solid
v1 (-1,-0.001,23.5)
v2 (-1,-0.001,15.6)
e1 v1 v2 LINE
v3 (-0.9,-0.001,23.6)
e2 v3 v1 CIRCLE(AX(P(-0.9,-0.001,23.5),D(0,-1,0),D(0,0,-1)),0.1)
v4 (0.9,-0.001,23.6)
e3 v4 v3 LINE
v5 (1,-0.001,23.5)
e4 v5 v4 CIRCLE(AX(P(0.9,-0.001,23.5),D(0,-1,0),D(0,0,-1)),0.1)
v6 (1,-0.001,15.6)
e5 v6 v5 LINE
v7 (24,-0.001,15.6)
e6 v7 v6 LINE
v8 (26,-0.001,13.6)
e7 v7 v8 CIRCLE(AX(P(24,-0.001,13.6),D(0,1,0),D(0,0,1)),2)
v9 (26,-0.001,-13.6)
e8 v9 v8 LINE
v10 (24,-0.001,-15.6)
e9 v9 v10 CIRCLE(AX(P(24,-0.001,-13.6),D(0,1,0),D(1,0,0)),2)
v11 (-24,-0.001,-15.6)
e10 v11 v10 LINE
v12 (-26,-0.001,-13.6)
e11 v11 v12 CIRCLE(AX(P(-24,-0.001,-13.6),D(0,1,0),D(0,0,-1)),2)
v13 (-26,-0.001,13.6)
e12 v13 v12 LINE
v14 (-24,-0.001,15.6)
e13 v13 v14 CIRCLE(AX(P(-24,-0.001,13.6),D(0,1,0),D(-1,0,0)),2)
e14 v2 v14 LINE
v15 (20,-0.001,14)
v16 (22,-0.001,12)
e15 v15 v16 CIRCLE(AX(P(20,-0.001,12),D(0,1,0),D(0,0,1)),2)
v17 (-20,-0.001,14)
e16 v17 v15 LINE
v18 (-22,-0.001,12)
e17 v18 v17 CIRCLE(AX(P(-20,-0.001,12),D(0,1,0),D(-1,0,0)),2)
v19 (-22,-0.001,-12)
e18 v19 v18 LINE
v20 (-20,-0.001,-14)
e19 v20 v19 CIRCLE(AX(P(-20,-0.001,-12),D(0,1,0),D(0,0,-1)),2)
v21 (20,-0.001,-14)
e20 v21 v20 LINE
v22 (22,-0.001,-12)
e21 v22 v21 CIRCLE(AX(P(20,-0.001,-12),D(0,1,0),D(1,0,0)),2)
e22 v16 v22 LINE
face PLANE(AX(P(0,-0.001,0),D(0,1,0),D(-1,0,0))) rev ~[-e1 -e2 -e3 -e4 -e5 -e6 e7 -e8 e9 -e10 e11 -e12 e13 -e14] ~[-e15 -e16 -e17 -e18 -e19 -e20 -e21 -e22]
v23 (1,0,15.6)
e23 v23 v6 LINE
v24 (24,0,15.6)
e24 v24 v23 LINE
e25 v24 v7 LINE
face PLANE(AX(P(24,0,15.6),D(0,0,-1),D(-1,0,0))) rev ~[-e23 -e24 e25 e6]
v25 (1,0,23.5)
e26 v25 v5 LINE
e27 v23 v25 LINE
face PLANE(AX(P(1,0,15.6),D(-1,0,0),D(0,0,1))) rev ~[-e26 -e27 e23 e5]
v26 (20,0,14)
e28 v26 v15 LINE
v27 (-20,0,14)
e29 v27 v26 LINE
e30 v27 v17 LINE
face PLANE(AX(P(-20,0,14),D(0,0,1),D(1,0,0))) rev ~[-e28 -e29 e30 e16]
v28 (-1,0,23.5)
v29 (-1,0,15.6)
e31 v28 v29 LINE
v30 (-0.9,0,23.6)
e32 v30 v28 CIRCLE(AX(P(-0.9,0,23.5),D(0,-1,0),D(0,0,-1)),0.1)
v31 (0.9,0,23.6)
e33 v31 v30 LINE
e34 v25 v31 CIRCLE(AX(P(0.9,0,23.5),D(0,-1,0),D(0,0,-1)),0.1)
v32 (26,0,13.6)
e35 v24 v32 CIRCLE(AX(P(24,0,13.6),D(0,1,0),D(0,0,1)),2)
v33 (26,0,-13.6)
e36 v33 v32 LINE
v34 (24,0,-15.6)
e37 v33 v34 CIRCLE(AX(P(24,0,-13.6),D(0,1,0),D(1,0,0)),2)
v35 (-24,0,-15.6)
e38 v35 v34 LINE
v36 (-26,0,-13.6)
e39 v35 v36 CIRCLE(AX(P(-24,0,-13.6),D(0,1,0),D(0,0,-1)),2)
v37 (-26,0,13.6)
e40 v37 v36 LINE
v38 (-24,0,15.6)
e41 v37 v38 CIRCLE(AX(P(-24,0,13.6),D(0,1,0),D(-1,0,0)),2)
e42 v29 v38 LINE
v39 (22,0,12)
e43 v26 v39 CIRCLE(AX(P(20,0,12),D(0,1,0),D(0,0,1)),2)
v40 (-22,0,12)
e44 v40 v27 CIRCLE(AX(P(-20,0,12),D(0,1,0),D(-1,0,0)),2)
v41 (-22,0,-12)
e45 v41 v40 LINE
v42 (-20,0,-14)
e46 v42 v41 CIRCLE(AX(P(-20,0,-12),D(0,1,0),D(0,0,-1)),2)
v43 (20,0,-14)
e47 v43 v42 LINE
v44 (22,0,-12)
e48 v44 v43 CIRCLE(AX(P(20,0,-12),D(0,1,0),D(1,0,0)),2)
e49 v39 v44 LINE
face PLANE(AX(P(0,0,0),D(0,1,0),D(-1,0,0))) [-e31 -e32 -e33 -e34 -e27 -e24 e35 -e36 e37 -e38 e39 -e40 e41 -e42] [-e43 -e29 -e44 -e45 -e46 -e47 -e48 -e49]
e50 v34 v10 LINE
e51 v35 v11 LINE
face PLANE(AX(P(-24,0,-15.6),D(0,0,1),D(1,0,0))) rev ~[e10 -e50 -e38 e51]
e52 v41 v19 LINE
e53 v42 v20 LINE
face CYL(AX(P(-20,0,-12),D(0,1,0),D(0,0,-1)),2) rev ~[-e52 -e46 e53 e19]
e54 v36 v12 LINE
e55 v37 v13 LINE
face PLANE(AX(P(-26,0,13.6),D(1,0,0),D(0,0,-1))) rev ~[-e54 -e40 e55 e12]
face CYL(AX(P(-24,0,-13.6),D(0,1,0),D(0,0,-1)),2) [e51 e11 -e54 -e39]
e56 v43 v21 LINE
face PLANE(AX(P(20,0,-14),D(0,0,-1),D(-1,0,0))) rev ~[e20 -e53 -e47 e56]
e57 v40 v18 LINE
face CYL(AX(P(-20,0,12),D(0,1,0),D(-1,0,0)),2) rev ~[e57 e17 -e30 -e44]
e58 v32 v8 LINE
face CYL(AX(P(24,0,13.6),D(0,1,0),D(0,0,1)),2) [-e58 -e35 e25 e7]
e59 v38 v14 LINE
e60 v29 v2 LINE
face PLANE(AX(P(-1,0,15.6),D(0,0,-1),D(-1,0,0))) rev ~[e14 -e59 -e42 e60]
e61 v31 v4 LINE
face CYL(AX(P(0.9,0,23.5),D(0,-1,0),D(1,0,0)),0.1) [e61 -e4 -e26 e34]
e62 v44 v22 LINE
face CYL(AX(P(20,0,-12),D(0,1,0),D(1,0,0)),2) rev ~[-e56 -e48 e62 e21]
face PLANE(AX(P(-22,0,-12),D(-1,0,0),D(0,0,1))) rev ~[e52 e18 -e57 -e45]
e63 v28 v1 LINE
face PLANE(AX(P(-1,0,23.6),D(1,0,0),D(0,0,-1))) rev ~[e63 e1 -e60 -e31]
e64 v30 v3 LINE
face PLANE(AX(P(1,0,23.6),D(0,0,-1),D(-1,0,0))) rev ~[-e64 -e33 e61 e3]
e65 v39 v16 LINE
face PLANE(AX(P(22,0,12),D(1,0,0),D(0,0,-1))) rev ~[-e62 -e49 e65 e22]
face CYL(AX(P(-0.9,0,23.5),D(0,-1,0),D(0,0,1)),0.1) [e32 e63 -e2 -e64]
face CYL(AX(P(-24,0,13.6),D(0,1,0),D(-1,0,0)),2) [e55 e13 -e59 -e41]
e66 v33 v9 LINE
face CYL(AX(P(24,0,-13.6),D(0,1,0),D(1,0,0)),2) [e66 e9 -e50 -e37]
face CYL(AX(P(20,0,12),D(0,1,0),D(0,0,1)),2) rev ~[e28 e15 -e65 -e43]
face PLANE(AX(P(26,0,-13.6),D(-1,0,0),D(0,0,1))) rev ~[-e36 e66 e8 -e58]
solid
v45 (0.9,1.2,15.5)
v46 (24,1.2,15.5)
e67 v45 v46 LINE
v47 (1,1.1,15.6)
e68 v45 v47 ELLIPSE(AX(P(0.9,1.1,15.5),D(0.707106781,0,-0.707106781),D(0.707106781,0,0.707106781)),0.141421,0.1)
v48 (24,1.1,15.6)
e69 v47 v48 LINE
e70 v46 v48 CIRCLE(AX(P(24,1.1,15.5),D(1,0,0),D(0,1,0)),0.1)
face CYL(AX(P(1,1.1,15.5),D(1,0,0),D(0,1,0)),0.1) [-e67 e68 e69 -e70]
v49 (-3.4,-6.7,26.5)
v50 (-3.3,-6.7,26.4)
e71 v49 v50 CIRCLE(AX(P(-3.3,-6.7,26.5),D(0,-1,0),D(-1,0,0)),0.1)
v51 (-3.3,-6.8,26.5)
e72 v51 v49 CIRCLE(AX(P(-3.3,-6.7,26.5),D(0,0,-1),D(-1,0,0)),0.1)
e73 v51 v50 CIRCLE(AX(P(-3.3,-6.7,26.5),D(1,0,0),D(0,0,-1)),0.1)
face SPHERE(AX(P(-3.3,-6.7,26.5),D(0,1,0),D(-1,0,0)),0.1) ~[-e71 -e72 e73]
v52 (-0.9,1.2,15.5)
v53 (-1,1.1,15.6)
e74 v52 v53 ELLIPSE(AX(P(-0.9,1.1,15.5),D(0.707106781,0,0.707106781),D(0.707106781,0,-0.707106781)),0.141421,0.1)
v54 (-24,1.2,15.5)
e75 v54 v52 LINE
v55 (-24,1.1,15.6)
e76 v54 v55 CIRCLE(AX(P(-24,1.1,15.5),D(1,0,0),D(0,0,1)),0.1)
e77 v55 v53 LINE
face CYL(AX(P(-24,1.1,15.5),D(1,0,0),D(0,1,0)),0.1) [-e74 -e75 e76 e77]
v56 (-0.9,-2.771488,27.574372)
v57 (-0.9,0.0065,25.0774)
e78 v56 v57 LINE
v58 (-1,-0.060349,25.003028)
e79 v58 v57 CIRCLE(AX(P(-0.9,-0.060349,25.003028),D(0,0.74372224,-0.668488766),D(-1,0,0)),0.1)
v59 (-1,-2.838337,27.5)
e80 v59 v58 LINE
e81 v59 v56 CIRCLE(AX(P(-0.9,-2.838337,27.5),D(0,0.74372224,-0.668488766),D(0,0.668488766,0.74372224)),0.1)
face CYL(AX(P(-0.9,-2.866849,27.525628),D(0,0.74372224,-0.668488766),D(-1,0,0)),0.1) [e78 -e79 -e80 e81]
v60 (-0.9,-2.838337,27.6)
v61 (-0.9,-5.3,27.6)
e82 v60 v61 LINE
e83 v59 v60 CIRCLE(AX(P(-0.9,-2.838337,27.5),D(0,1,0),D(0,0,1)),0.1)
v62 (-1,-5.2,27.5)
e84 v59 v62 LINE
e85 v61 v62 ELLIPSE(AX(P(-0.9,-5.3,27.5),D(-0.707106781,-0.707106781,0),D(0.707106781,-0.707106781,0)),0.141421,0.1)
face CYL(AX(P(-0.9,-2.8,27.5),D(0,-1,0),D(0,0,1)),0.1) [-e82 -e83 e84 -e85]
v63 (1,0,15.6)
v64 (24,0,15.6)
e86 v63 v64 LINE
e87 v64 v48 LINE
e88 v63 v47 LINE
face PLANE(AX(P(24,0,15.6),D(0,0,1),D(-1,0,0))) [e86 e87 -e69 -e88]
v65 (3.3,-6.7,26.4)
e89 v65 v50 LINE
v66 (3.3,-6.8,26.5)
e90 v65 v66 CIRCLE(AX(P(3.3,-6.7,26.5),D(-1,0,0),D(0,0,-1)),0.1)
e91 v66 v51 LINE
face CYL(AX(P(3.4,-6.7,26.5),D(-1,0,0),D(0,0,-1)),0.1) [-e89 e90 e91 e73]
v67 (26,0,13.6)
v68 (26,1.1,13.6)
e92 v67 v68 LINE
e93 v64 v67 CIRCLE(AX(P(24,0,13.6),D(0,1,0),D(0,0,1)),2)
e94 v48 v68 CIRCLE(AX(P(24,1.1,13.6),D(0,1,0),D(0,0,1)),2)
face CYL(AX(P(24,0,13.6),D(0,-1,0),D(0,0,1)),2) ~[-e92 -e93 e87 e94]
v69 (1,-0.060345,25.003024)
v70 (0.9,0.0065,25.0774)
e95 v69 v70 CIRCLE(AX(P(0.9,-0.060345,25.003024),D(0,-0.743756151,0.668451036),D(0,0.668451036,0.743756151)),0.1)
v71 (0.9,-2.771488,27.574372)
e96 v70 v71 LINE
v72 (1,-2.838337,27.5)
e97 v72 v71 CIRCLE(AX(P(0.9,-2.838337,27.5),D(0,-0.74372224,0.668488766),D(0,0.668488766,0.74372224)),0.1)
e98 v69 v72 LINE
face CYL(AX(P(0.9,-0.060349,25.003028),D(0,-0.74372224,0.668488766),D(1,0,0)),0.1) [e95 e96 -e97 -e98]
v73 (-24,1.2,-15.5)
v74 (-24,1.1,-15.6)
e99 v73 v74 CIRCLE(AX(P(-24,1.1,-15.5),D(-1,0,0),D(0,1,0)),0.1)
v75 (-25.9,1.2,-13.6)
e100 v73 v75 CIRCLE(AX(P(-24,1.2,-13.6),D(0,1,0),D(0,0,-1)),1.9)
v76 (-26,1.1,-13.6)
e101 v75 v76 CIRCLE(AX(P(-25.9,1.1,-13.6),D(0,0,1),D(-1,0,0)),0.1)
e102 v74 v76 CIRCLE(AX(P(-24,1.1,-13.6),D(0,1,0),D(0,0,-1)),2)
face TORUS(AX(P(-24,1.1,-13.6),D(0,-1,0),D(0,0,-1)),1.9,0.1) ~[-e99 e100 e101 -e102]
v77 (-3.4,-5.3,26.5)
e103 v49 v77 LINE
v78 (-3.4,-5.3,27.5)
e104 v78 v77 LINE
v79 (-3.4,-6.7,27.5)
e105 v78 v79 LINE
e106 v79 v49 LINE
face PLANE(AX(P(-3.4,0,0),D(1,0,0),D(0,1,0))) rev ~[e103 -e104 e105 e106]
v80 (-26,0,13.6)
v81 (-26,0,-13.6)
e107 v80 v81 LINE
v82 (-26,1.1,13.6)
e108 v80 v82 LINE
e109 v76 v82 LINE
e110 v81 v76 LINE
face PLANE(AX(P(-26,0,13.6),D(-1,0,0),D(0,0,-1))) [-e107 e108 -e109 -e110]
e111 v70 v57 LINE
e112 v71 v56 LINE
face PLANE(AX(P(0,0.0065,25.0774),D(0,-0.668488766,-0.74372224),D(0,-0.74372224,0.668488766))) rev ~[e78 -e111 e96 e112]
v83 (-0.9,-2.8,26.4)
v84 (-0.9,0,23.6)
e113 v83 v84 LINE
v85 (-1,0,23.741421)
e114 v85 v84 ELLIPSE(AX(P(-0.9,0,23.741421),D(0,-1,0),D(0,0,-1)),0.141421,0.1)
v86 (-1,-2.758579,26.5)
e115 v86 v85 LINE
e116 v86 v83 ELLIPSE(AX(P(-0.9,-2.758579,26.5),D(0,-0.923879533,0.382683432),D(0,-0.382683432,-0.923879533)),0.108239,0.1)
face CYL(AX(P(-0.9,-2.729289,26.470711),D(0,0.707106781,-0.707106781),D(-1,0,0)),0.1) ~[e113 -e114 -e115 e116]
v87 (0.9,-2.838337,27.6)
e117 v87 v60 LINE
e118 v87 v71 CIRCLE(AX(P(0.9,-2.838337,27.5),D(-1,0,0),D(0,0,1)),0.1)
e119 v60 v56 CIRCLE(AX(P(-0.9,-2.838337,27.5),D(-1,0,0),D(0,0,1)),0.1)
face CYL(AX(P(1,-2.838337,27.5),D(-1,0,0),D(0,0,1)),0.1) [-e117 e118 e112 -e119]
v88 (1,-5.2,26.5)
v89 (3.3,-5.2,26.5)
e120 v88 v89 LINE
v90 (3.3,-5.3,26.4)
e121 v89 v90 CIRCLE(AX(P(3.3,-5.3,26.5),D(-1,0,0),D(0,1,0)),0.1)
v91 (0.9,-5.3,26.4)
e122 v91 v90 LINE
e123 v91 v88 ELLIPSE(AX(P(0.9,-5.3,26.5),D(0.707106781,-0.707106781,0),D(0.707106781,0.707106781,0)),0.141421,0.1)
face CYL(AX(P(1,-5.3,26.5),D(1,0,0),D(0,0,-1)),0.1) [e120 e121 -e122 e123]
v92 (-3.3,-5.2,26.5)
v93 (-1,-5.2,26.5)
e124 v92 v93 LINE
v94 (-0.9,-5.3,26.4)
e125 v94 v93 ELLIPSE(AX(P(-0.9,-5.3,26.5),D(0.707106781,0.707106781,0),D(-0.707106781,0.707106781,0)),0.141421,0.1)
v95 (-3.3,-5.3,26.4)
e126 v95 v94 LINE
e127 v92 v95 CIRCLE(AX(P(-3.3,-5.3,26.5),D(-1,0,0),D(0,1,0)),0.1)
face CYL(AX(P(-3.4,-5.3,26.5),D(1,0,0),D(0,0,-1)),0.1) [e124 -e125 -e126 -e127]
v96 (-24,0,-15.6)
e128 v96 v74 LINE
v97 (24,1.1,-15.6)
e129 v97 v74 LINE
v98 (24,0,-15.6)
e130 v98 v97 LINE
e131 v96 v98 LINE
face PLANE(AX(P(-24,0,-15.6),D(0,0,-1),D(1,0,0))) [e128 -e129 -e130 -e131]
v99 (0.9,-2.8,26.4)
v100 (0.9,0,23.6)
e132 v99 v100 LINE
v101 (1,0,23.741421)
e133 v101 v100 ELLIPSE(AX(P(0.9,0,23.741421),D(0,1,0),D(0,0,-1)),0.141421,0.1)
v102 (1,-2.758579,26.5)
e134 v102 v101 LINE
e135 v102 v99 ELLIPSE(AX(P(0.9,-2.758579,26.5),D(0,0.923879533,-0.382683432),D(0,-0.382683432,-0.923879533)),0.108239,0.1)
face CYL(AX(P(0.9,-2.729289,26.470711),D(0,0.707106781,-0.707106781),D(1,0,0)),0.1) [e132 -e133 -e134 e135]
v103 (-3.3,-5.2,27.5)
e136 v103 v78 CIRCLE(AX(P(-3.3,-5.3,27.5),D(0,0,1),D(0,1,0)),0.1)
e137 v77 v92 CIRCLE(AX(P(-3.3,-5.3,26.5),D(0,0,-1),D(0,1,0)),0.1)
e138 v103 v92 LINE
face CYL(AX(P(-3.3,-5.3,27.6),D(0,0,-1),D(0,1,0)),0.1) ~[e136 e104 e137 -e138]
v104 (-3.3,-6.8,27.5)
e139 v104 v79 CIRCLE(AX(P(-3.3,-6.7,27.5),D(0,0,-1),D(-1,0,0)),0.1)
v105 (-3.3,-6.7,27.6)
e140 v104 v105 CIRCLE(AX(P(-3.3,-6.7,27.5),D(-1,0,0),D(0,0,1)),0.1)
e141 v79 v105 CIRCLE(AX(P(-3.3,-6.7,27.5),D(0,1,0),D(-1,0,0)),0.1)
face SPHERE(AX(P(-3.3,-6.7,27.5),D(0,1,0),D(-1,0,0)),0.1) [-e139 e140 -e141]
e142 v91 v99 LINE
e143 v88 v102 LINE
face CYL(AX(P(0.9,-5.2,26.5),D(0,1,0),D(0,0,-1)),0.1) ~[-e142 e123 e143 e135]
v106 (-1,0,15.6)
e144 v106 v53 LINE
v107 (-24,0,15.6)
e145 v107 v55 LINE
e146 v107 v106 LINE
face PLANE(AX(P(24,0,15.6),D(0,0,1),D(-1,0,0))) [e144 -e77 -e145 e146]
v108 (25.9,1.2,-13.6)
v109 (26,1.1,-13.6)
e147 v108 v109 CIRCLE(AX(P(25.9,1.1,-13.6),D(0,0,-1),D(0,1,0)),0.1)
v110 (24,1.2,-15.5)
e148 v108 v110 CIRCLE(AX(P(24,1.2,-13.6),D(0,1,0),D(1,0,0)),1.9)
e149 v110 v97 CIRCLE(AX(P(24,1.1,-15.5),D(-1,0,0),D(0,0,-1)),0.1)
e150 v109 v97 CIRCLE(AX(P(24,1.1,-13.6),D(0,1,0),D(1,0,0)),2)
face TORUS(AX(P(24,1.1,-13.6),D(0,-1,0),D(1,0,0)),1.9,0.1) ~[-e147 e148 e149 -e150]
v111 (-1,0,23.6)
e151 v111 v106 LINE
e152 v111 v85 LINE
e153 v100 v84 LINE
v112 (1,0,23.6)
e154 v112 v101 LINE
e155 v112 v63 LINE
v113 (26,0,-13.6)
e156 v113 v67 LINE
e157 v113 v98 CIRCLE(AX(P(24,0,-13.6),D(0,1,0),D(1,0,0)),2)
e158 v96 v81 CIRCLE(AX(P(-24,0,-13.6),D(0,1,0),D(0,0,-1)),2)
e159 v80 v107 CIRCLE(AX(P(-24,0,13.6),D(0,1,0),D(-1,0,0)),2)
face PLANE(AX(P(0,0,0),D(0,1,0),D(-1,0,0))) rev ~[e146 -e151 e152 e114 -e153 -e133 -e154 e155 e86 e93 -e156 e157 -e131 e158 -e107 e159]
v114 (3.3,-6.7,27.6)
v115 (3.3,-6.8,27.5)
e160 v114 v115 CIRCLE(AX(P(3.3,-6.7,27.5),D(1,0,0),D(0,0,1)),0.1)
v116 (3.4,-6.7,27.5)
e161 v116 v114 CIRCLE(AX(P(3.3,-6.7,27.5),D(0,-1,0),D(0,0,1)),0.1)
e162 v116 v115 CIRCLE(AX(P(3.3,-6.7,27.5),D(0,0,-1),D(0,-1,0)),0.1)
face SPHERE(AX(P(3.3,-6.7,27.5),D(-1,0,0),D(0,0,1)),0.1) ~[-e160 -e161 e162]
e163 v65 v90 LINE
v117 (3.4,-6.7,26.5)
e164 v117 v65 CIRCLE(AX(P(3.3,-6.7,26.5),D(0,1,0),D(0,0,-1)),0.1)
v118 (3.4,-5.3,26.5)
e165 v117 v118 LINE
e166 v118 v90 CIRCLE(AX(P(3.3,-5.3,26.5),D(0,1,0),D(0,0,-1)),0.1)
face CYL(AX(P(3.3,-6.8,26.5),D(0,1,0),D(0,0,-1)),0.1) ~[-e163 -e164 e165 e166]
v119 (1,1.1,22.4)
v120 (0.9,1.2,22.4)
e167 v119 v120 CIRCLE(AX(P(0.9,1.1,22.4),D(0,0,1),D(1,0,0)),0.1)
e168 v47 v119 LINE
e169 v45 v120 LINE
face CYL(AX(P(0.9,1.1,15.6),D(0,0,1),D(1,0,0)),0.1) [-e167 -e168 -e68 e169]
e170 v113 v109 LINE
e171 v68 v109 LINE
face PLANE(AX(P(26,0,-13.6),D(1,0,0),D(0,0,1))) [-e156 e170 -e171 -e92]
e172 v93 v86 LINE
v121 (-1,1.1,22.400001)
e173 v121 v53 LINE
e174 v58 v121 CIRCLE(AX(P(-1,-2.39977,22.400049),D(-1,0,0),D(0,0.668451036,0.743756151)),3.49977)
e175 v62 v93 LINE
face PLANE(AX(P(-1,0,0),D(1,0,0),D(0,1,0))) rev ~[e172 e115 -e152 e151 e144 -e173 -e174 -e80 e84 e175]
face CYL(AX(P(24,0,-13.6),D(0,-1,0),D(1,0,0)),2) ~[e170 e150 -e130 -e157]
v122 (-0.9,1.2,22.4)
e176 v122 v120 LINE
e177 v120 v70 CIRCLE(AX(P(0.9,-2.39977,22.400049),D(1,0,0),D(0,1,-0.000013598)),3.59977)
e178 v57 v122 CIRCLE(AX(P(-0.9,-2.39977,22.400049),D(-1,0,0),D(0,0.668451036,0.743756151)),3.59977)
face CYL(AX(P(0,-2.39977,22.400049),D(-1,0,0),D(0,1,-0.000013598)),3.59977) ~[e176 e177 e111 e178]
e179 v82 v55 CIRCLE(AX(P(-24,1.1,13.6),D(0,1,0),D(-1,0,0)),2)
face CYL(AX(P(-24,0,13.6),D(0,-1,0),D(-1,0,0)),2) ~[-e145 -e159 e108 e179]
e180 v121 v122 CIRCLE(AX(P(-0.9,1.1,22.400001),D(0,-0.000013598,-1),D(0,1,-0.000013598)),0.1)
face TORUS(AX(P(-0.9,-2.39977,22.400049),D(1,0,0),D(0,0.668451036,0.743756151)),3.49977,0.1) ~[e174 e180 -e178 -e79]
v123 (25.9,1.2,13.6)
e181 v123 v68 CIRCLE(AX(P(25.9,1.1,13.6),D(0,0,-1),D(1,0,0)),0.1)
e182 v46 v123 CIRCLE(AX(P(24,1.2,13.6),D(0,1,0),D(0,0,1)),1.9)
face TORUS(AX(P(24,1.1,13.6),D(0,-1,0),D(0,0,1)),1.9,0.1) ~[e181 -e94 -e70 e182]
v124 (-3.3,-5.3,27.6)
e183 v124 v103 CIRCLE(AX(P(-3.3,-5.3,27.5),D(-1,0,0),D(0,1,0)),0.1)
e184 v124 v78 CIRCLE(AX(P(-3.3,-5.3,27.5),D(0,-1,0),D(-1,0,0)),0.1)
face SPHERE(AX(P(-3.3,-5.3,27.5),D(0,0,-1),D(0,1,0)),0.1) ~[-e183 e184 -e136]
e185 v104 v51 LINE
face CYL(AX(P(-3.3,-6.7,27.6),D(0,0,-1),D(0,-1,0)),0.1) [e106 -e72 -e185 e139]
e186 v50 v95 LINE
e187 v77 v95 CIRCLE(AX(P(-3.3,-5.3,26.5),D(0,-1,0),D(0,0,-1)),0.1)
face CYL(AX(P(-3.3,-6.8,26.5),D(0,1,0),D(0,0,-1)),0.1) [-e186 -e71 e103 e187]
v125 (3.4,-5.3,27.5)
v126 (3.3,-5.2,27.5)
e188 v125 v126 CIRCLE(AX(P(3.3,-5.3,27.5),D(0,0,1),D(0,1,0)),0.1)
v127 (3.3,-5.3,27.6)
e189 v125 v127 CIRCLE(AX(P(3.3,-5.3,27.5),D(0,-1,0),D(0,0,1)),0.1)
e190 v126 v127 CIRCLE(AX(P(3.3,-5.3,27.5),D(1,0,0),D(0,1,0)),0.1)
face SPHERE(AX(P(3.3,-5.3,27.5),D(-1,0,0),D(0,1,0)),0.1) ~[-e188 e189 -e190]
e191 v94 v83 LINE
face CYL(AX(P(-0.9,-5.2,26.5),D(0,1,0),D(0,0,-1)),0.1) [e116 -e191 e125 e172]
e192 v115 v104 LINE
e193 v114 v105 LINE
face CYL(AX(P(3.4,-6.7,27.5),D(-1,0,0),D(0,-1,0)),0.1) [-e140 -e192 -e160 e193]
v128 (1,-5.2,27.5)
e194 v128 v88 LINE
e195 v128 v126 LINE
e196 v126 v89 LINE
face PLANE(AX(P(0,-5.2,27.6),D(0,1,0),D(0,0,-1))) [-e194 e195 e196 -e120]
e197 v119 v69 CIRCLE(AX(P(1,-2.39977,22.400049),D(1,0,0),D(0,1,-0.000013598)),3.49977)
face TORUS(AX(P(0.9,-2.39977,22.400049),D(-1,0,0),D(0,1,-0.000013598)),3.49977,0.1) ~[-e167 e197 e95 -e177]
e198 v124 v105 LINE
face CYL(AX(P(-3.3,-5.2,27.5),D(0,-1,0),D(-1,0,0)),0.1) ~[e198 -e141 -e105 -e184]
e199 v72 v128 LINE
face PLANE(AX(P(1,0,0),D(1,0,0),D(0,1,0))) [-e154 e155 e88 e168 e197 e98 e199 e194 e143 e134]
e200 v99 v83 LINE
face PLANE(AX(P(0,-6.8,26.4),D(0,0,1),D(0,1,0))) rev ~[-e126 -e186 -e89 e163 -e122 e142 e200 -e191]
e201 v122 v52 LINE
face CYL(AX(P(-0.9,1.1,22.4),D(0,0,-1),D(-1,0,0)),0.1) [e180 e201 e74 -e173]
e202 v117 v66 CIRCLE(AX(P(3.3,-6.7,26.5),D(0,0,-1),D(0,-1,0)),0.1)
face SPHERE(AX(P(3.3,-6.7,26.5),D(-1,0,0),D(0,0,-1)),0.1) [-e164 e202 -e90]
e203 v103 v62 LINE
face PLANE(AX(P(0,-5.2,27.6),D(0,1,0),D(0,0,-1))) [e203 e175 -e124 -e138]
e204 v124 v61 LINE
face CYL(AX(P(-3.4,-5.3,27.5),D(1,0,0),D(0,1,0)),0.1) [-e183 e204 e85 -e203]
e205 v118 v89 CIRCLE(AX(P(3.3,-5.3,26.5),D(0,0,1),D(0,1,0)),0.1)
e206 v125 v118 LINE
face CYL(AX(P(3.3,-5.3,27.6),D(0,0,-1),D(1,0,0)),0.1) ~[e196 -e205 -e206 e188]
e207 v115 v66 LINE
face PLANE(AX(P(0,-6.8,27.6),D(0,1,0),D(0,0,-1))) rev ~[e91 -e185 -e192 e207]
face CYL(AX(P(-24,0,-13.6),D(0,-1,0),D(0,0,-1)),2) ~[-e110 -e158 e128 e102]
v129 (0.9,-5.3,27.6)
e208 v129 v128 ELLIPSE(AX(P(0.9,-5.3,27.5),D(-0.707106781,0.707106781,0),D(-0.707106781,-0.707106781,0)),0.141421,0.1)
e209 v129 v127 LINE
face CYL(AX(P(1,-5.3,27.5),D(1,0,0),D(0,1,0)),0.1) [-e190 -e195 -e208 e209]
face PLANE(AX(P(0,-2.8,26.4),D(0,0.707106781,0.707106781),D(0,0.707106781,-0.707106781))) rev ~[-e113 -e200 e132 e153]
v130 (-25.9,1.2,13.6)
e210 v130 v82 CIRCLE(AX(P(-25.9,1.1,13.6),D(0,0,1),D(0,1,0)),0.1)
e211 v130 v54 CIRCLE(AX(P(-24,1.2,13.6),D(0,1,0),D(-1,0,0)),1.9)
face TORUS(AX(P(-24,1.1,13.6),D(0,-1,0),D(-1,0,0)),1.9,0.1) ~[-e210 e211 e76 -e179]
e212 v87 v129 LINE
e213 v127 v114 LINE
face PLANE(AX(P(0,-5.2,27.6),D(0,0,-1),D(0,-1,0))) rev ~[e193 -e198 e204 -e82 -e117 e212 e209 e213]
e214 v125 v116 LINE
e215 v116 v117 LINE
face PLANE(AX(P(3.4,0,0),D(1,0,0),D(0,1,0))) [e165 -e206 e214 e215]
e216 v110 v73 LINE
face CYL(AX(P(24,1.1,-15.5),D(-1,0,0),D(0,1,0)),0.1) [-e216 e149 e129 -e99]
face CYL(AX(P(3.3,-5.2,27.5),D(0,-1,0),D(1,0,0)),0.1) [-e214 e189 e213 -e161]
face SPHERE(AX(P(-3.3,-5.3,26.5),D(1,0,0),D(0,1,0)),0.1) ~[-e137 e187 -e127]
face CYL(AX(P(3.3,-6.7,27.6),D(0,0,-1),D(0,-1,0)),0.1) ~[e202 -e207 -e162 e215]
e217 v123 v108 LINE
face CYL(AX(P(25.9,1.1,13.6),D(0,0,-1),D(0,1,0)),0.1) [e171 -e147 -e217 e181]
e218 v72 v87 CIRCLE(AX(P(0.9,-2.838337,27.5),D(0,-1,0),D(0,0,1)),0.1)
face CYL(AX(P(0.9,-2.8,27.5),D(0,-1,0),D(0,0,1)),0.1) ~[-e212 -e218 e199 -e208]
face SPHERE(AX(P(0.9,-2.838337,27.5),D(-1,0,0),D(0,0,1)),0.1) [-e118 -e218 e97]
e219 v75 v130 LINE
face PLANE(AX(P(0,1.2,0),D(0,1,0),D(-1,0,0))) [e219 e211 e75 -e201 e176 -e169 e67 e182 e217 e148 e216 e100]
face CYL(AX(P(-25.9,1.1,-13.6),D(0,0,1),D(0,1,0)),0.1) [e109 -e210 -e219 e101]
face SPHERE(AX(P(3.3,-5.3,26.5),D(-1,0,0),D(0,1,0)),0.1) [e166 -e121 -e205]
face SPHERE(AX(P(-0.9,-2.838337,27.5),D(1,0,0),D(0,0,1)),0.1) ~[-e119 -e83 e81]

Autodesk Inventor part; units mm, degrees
ref_plane "YZ Plane" through (0, 0, 0) normal (1, 0, 0) x (0, 1, 0)
ref_plane "XZ Plane" through (0, 0, 0) normal (0, 1, 0) x (-1, 0, 0)
ref_plane "XY Plane" through (0, 0, 0) normal (0, 0, 1) x (1, 0, 0)
sketch "Sketch2" plane through (0, 0, 0) normal (0, 1, 0) x (-1, 0, 0)
  line L0 (-24, 15.6) -> (24, 15.6)
  line L1 (26, 13.6) -> (26, -13.6)
  line L2 (24, -15.6) -> (-24, -15.6)
  line L3 (-26, -13.6) -> (-26, 13.6)
  arc A0 (-24, 15.6) -> (-26, 13.6) centre (-24, 13.6) ccw
  arc A1 (-26, -13.6) -> (-24, -15.6) centre (-24, -13.6) ccw
  arc A2 (24, -15.6) -> (26, -13.6) centre (24, -13.6) ccw
  arc A3 (26, 13.6) -> (24, 15.6) centre (24, 13.6) ccw
  line L4 (20, 14) -> (-20, 14)
  line L5 (-22, 12) -> (-22, -12)
  line L6 (-20, -14) -> (20, -14)
  line L7 (22, -12) -> (22, 12)
  arc A4 (22, 12) -> (20, 14) centre (20, 12) ccw
  arc A5 (-20, 14) -> (-22, 12) centre (-20, 12) ccw
  arc A6 (-22, -12) -> (-20, -14) centre (-20, -12) ccw
  arc A7 (20, -14) -> (22, -12) centre (20, -12) ccw
  line L8 (-1, 15.6) -> (-1, 23.6)
  line L9 (-1, 23.6) -> (1, 23.6)
  line L10 (1, 23.6) -> (1, 15.6)
  point P0 (0, 0)
  point P1 (26, -15.6)
  point P2 (-26, -15.6)
  point P3 (0, 15.6)
  point P4 (-26, 0)
  point P5 (0, 14)
  point P6 (-22, 0)
  point P7 (0, 23.6)
  dimension "d0" = 31.2
  dimension "d1" = 52
  dimension "d2" = 2
  dimension "d3" = 28
  dimension "d4" = 44
  dimension "d5" = 2
  dimension "d22" = 2
  dimension "d23" = 8
extrude "Extrusion1" add sketch "Sketch2" along normal blind 1.2 contours L0 A3 L1 A2 L2 A1 L3 A0 | A4 L7 A7 L6 A6 L5 A5 L4
sketch "Sketch3" plane through (0, 0, 0) normal (1, 0, 0) x (0, 1, 0)
  line L0 (0, 15.6) -> (1.2, 15.6) projected
  arc A0 (1.2, 22.4) -> (0.0065, 25.0774) centre (-2.4, 22.4) ccw
  line L1 (0.0065, 25.0774) -> (-2.8, 27.6)
  line L2 (-2.8, 27.6) -> (-5.2, 27.6)
  line L3 (-5.2, 27.6) -> (-5.2, 26.4)
  line L4 (-5.2, 26.4) -> (-2.8, 26.4)
  line L5 (-2.8, 26.4) -> (0, 23.6)
  line L6 (0, 23.6) -> (0, 15.6)
  line L7 (-5.2, 27.6) -> (-6.8, 27.6)
  line L8 (-6.8, 27.6) -> (-6.8, 26.4)
  line L9 (-6.8, 26.4) -> (-5.2, 26.4)
  line L10 (1.2, 22.4) -> (1.2, 15.6)
  point P0 (0, 0)
  dimension "d10" = 6.8
  dimension "d11" = 4
  dimension "d12" = 1.2
  dimension "d13" = 1.6
  dimension "d14" = 12
  dimension "d15" = 8
  dimension "d16" = 6.8
  dimension "d17" = 3.6
extrude "Extrusion3" add sketch "Sketch3" along normal mid plane 2 contours L6 L5 L4 L3 L2 L1 A0 L10 L0
extrude "Extrusion4" add sketch "Sketch3" along normal mid plane 6.8 contours L9 L8 L7 L3
extrude "Extrusion2" add sketch "Sketch2" against normal blind 0.001 separate body
fillet "Fillet1" radius 0.1 38 edges at (-25.4142, 1.2, 15.0142) (-26, 1.2, 0) (-25.4142, 1.2, -15.0142) (0, 1.2, -15.6) (25.4142, 1.2, -15.0142) (26, 1.2, 0) (25.4142, 1.2, 15.0142) (12.5, 1.2, 15.6) (-12.5, 1.2, 15.6) (-1, 1.2, 19) (-1, -1.3967, 26.3387) (-1, 0.8881, 23.8657) (1, -1.3967, 26.3387) (1, 1.2, 19) (1, 0.8881, 23.8657) (0, -2.8, 27.6) (1, -1.4, 25) (-1, -1.4, 25) (1, -4, 26.4) (1, -4, 27.6) (-1, -4, 27.6) (-1, -4, 26.4) (-2.2, -5.2, 26.4) (-3.4, -5.2, 27) (-2.2, -5.2, 27.6) (-3.4, -6, 27.6) (-3.4, -6, 26.4) (-3.4, -6.8, 27) (0, -6.8, 27.6) (0, -6.8, 26.4) (2.2, -5.2, 27.6) (2.2, -5.2, 26.4) (3.4, -5.2, 27) (3.4, -6, 26.4) (3.4, -6, 27.6) (3.4, -6.8, 27) (1, -0.0005, 23.6) (-1, -0.0005, 23.6)
equation "\"d23\" = lu"
equation "\"d13\" = wall"
equation "\"d15\" = lu"
equation "\"lu\" = 8"
equation "\"wall\" = 1.6"
properties part number "99148p01-TransClear" material "Polycarbonate"
